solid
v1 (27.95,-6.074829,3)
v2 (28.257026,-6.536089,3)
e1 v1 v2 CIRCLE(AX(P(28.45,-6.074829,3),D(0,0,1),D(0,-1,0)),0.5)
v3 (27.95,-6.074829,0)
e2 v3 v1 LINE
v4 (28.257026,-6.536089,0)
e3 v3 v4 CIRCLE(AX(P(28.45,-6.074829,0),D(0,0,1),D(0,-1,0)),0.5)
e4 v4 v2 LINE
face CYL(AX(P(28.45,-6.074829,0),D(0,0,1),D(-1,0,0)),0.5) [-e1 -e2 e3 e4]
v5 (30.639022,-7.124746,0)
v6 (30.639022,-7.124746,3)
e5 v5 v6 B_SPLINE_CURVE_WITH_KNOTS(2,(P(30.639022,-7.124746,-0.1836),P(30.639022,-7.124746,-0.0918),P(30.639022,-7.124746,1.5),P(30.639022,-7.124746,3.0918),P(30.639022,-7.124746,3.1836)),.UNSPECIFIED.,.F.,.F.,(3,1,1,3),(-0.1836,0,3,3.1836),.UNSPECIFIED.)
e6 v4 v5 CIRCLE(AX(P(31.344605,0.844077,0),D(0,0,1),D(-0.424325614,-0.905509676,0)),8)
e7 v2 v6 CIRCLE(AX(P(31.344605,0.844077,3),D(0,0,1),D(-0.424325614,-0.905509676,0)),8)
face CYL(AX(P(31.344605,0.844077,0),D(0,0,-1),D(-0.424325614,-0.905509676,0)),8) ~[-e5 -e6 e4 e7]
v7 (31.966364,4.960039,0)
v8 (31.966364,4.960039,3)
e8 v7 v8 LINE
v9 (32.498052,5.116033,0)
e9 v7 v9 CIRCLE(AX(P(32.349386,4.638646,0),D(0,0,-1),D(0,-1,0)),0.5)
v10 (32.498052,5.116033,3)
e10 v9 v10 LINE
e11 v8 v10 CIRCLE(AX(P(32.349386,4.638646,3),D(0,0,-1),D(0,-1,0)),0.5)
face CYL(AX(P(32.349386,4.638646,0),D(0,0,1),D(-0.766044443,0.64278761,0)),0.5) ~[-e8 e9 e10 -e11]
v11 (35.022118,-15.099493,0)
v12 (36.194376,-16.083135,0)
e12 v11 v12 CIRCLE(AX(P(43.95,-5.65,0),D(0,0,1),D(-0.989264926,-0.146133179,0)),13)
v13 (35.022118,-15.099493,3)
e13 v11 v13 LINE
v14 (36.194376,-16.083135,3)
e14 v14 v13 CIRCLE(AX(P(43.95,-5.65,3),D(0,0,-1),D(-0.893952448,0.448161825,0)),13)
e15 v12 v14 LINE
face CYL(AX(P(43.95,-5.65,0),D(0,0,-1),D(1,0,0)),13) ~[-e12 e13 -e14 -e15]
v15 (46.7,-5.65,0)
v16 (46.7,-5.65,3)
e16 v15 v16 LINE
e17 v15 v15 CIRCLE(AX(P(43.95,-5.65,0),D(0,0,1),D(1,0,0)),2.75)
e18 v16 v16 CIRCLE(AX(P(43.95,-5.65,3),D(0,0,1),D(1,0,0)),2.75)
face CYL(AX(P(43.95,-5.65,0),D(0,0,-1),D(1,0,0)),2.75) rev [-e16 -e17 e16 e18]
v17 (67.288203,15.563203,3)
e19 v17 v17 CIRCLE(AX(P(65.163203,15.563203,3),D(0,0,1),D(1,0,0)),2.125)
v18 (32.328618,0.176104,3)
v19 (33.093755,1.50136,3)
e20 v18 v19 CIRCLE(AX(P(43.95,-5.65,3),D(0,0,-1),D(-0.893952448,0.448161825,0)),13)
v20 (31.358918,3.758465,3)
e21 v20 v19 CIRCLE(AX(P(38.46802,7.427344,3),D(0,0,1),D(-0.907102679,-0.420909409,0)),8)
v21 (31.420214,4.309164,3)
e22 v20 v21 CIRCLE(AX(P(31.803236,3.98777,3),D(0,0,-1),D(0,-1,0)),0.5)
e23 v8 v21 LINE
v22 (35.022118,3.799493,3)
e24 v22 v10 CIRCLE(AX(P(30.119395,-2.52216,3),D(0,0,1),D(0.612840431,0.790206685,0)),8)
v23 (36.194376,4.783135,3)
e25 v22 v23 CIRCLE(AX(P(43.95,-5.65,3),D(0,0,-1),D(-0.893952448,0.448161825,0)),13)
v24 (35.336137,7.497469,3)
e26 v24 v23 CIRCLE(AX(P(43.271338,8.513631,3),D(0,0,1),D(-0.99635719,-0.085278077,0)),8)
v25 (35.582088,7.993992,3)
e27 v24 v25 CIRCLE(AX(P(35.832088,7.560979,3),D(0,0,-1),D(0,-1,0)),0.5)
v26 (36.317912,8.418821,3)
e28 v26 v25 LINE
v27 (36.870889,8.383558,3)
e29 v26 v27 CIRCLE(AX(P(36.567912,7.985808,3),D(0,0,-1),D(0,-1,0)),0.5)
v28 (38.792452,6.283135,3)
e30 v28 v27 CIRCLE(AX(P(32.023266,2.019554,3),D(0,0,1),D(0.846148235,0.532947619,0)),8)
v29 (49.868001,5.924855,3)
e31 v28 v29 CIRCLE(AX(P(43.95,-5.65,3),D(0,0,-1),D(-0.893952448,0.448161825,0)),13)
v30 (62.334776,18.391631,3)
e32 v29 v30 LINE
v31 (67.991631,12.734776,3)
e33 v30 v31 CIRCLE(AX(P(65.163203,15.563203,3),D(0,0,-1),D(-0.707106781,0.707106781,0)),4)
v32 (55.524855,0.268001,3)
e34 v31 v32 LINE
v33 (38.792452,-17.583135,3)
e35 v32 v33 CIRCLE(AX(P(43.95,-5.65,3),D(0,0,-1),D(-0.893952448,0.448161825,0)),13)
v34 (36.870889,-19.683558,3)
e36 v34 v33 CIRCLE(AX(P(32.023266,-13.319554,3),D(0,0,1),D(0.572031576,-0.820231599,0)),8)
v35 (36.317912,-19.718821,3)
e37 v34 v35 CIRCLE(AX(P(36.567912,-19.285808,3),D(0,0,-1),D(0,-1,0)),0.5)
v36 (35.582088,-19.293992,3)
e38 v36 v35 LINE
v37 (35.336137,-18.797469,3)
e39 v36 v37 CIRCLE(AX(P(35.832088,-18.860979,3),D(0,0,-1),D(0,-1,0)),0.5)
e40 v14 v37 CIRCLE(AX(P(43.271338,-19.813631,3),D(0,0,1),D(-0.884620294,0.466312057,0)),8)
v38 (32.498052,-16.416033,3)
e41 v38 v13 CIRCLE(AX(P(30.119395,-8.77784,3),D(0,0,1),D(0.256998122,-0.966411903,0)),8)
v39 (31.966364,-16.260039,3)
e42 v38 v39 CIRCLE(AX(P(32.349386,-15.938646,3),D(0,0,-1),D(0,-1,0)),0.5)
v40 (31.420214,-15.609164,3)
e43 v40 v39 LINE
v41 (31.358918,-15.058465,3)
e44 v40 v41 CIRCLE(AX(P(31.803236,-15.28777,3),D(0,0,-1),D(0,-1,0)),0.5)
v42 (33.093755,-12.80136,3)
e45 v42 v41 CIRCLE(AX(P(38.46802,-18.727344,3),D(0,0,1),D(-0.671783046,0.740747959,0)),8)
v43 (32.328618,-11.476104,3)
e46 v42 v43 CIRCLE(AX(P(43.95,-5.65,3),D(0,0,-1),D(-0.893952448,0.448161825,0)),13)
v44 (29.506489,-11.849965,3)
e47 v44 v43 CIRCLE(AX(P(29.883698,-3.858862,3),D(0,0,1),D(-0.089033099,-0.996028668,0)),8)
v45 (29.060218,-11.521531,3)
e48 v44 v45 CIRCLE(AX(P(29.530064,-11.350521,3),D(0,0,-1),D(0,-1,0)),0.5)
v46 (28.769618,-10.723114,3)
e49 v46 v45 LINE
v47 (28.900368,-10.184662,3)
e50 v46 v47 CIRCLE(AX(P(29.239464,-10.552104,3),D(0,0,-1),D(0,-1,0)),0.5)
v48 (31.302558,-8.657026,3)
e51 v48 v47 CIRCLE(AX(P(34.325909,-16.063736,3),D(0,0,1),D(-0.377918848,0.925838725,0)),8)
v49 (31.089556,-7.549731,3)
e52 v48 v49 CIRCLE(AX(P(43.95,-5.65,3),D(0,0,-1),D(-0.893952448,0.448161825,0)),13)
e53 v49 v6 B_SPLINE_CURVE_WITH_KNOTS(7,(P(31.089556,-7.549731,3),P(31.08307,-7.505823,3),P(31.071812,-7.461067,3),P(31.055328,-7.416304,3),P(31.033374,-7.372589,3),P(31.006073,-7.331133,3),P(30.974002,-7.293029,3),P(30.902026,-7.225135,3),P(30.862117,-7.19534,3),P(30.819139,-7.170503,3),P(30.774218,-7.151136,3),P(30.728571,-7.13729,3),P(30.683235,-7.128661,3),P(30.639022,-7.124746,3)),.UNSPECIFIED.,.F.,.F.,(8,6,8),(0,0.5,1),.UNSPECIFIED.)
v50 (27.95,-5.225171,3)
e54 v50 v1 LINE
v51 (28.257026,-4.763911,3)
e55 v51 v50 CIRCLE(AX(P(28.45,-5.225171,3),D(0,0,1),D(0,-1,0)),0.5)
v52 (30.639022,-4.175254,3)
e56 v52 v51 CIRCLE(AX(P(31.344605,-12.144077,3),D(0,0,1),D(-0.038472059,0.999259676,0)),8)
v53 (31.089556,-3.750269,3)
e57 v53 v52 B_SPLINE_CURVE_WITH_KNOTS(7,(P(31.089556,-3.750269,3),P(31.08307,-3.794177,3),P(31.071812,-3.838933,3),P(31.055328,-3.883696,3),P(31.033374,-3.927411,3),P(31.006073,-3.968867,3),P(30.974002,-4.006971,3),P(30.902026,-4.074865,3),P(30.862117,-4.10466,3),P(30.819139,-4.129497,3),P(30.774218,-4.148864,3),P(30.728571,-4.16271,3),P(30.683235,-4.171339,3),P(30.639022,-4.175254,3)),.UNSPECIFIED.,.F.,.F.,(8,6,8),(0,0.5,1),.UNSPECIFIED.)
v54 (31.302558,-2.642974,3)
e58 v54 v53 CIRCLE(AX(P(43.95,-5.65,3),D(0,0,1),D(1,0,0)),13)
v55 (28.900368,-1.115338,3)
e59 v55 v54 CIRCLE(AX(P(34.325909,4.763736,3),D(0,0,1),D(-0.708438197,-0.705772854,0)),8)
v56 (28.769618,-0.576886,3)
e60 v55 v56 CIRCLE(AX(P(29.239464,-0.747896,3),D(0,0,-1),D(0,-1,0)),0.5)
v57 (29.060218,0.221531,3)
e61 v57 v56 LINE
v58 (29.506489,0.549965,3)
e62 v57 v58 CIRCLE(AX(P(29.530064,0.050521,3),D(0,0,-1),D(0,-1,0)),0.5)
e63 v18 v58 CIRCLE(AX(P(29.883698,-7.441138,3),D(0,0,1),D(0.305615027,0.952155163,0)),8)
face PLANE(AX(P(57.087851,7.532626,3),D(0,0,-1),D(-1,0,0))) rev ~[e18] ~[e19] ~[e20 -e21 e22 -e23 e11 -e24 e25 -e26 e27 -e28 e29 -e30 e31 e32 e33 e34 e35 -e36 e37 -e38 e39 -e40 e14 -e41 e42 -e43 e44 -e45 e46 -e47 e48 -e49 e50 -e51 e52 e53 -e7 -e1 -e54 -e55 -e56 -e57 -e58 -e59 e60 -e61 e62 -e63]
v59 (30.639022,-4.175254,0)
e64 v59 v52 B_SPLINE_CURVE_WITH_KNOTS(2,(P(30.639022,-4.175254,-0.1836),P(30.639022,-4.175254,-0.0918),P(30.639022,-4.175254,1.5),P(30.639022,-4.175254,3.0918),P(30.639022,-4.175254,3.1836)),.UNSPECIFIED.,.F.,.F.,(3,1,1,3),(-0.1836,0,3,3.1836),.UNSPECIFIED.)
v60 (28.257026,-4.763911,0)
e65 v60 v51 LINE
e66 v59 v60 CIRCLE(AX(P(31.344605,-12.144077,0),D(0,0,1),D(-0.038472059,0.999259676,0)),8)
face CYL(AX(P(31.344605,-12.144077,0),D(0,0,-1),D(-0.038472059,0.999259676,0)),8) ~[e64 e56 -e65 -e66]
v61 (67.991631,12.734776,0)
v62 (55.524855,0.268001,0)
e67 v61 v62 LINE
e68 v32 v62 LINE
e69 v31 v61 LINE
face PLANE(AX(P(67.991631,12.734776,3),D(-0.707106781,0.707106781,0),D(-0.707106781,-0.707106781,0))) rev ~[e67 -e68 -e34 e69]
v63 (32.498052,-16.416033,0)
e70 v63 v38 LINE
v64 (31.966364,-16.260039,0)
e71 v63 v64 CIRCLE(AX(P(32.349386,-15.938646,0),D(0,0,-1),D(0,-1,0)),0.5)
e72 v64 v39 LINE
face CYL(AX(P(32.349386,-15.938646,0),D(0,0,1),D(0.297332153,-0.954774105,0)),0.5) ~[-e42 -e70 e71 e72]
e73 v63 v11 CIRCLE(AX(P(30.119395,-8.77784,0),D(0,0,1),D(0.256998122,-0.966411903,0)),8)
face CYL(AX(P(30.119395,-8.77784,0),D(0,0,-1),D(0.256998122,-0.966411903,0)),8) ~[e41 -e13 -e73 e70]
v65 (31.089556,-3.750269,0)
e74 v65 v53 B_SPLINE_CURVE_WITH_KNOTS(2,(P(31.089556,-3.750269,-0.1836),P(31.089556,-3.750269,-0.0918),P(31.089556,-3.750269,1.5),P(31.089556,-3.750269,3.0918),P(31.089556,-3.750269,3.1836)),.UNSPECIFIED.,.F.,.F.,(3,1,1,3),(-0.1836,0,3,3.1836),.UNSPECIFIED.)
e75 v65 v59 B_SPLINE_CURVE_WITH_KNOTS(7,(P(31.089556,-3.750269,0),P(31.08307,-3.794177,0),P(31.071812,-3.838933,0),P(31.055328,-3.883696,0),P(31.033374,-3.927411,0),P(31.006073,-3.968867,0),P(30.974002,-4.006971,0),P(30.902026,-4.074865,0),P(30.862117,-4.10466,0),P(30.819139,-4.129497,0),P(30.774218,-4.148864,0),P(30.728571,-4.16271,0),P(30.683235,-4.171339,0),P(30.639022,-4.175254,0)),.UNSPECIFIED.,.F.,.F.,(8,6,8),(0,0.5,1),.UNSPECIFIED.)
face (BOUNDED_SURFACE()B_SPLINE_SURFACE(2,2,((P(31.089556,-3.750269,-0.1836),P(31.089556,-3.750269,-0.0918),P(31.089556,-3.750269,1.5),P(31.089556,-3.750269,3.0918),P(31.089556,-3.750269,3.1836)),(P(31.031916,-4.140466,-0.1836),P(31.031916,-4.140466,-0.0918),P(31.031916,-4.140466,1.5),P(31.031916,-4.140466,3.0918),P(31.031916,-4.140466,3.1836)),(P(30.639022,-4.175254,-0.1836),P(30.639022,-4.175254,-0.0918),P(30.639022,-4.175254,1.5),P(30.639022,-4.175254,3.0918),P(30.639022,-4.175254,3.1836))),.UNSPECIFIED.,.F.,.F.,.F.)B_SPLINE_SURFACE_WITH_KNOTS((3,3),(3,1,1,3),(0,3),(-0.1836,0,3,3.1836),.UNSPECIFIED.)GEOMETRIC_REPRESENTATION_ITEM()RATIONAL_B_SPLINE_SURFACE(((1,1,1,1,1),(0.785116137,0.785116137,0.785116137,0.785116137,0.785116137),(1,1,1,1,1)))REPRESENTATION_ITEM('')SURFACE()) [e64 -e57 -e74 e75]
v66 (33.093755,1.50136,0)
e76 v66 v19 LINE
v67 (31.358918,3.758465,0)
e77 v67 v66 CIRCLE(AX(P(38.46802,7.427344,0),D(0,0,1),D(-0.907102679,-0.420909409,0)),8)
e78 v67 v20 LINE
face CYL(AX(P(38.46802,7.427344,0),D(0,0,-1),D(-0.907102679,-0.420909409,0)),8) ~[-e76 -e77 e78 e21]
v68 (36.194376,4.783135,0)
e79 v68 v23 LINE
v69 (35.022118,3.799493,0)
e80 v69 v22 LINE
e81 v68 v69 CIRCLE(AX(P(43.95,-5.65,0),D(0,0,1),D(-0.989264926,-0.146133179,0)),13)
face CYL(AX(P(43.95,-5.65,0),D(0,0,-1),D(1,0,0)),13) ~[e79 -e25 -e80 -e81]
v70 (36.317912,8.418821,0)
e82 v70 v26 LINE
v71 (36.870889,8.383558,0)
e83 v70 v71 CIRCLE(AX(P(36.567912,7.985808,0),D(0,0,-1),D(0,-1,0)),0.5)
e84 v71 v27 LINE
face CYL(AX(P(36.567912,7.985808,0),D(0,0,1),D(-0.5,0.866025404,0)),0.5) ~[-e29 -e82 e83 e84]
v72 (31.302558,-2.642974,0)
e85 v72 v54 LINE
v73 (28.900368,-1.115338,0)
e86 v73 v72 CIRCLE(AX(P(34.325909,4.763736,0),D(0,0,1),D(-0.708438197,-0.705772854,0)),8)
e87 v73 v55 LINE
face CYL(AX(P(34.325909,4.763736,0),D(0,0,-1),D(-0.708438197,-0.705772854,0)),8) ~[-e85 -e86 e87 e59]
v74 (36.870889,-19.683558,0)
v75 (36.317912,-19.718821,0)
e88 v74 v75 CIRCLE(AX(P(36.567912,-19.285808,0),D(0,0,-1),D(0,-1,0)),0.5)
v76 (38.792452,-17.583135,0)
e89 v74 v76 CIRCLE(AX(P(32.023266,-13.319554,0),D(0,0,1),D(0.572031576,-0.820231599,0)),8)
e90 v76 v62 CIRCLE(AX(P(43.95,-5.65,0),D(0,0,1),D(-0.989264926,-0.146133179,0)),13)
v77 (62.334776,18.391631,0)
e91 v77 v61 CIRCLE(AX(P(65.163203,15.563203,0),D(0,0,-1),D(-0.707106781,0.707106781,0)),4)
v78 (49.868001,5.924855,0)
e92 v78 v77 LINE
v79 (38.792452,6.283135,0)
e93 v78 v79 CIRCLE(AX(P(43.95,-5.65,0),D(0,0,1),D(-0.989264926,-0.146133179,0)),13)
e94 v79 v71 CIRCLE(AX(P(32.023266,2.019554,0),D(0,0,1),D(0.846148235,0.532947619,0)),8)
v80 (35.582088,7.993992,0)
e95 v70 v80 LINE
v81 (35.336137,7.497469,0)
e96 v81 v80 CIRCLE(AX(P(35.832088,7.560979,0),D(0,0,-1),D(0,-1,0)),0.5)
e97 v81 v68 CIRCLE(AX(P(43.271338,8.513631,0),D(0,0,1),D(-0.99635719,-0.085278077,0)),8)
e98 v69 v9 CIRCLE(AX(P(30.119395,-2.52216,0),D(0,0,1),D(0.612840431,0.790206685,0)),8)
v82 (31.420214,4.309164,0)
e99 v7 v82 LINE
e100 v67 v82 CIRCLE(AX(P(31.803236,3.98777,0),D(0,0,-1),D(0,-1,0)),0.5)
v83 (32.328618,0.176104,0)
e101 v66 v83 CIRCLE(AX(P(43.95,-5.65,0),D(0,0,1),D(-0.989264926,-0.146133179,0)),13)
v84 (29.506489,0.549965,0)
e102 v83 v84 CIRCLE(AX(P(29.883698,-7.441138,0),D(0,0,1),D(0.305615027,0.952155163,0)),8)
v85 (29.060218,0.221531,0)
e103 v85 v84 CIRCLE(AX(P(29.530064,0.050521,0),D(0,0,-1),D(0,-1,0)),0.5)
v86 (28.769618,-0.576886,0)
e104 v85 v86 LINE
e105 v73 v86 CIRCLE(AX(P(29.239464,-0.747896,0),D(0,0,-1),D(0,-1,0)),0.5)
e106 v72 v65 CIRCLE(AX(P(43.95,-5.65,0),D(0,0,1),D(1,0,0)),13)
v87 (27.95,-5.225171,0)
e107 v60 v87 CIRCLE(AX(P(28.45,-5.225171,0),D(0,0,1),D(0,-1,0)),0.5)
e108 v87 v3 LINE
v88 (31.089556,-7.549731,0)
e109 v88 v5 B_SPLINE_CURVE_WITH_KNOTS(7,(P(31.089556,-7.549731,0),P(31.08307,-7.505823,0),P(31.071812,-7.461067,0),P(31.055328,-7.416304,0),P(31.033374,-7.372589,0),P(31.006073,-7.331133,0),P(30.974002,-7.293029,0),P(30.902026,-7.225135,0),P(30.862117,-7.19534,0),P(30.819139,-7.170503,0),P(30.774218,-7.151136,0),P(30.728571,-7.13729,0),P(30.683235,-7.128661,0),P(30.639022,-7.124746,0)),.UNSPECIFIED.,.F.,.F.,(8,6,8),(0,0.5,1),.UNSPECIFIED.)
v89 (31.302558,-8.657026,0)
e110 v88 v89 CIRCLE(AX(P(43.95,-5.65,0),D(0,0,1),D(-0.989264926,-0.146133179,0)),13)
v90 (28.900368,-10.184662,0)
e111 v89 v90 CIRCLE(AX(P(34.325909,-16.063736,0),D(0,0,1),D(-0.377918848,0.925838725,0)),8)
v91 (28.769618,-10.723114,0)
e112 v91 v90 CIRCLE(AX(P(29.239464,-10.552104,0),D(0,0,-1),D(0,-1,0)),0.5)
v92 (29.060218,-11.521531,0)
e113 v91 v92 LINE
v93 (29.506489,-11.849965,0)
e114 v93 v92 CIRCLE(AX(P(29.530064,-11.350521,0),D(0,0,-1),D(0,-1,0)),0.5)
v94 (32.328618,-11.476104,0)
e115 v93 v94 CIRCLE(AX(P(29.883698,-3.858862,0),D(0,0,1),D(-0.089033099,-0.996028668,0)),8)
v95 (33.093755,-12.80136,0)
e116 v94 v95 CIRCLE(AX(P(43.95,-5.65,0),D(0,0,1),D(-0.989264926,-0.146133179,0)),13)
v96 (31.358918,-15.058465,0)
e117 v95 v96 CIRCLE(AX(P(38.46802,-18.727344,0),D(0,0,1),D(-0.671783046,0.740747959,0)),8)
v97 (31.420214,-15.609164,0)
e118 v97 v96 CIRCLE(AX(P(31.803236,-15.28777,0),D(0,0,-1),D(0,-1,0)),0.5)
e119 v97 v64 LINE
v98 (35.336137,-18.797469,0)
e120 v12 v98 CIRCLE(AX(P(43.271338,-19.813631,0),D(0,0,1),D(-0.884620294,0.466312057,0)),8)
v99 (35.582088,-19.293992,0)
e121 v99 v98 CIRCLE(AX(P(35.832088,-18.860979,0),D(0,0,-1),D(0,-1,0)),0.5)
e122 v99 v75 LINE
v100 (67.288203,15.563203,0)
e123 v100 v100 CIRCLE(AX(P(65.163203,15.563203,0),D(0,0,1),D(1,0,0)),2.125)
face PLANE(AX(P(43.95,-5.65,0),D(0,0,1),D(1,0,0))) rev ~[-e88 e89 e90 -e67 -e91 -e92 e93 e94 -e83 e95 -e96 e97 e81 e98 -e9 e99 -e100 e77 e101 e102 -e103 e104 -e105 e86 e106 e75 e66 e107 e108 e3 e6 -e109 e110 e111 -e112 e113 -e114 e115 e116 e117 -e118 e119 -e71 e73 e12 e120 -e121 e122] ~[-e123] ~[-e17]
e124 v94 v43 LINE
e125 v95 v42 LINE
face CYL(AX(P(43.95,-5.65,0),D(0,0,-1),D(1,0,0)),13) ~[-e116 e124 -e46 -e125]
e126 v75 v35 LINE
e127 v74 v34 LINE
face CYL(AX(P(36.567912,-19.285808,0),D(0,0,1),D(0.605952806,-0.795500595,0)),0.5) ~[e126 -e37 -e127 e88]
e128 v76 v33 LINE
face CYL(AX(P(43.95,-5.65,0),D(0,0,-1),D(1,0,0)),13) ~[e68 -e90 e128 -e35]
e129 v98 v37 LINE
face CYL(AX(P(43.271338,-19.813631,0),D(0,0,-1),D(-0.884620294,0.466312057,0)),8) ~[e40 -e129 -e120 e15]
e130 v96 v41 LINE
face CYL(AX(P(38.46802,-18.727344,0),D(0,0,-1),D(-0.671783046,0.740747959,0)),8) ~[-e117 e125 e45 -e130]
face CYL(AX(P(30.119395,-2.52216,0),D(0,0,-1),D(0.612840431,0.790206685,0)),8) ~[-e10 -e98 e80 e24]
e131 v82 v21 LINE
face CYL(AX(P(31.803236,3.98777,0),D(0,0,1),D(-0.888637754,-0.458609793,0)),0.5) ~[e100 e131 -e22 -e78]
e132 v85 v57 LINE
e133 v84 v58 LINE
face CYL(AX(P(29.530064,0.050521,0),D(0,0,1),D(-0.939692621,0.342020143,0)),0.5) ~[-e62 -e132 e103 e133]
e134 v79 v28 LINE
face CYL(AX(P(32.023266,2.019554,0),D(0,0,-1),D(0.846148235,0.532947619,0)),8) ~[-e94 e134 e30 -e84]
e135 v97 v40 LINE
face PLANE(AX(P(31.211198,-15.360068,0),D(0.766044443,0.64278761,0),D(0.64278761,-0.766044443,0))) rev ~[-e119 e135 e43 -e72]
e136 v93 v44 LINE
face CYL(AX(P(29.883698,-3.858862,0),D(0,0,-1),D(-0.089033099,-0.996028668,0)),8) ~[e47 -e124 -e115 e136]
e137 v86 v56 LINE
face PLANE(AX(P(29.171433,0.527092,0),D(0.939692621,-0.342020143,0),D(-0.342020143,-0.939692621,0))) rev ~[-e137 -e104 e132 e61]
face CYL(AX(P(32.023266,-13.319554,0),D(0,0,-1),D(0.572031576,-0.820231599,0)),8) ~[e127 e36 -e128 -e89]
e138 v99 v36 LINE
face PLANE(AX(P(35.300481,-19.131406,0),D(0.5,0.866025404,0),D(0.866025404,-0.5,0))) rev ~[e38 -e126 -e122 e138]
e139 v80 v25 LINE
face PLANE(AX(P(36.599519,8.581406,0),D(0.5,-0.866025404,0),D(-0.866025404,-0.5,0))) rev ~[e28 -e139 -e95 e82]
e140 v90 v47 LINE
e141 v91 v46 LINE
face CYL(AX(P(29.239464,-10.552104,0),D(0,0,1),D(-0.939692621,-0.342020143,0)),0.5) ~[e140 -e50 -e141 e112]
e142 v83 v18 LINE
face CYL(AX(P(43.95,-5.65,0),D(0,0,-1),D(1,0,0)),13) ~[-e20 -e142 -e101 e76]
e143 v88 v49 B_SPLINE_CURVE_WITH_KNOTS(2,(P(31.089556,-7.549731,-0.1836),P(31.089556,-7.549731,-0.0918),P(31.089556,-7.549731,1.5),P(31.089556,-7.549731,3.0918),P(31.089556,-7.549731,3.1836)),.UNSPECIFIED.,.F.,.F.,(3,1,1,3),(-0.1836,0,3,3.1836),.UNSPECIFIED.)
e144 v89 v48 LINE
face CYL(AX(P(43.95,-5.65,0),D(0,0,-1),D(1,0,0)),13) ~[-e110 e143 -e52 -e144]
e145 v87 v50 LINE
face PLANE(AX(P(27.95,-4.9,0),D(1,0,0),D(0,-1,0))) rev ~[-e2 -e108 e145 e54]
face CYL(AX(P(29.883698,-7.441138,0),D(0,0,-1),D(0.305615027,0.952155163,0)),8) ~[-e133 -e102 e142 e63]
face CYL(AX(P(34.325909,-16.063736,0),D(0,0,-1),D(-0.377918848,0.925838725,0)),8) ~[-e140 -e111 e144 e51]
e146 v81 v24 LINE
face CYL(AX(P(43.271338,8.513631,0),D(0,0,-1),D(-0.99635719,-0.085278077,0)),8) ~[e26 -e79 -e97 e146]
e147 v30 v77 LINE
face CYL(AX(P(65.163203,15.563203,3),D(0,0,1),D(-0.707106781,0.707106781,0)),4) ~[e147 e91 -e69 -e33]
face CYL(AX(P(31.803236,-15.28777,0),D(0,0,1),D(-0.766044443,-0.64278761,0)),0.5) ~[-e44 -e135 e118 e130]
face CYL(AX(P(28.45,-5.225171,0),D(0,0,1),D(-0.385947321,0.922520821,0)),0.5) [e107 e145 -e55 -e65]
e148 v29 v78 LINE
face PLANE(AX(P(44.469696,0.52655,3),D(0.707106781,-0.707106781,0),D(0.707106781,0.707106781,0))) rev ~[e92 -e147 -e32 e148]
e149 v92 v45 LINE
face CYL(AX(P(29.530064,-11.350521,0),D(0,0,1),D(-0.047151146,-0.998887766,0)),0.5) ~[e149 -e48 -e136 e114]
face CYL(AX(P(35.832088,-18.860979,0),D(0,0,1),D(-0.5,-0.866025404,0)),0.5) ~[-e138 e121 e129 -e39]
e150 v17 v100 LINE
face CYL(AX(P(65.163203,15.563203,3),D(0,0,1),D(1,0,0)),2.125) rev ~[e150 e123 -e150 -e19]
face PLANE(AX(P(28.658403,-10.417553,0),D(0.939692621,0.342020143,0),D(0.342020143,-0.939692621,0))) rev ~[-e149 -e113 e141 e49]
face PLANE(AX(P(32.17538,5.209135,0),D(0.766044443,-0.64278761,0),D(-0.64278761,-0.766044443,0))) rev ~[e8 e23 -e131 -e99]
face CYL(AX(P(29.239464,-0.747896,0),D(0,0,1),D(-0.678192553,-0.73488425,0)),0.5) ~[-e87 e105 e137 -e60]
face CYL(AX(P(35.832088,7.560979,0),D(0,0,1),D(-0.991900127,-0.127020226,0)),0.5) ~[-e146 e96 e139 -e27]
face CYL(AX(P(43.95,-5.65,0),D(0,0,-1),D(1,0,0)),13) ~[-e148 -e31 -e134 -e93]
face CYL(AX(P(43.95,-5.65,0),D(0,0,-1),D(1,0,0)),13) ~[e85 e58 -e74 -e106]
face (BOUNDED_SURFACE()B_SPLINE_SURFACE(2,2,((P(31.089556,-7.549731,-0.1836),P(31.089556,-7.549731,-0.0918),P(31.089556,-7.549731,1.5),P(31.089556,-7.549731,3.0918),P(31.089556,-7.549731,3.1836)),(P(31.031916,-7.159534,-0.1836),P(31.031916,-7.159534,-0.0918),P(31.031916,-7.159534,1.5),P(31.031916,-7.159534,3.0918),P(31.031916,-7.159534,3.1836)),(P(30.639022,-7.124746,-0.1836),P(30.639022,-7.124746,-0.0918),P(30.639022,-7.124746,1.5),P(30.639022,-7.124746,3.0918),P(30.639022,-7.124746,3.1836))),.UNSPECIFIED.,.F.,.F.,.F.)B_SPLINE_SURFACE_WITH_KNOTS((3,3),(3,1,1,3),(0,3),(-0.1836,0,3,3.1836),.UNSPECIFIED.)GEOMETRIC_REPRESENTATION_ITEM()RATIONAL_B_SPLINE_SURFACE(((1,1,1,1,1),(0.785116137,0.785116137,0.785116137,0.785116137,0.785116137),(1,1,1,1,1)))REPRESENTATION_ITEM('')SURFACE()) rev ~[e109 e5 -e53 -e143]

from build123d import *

# Parameters (mm, degrees)
SKETCH1_R           = 13
SKETCH1_R_2         = 2.75
BOSS_EXTRUDE1_DEPTH = 3
BOSS_EXTRUDE2_START = -3
BOSS_EXTRUDE2_DEPTH = 3
FILLET1_R           = 0.5
CIRPATTERN1_COUNT   = 4
CIRPATTERN1_ANGLE   = 60
CIRPATTERN2_COUNT   = 4
CIRPATTERN2_ANGLE   = 60
SKETCH3_R           = 2.125
BOSS_EXTRUDE3_DEPTH = 3
FILLET2_R           = 0.5


with BuildPart() as part:
    # Sketch1 → Boss-Extrude1 (new body)
    with BuildSketch(Plane.XY):
        with Locations((43.95, -5.65)):
            Circle(SKETCH1_R)
        with Locations((43.95, -5.65)):
            Circle(SKETCH1_R_2, mode=Mode.SUBTRACT)
    extrude(amount=BOSS_EXTRUDE1_DEPTH)

    # Sketch2 → Boss-Extrude2 (add)
    with BuildSketch(Plane.XY.offset(3).offset(BOSS_EXTRUDE2_START)):
        with BuildLine():
            Line((27.95, -4.9), (27.95, -6.4))
            ThreePointArc((27.95, -6.4), (29.455813765, -6.929754851), (31.03682843, -7.15))
            ThreePointArc((31.03682843, -7.15), (30.95, -5.65), (31.03682843, -4.15))
            ThreePointArc((31.03682843, -4.15), (29.455813765, -4.370245149), (27.95, -4.9))
        make_face()
    boss_extrude2 = extrude(amount=BOSS_EXTRUDE2_DEPTH)

    # Fillet1
    fillet1_edges = [part.edges().sort_by_distance(p)[0] for p in [
        (31.03682843, -7.15, 1.5),
        (27.95, -6.4, 1.5),
        (27.95, -4.9, 1.5),
        (31.03682843, -4.15, 1.5),
    ]]
    fillet(fillet1_edges, radius=FILLET1_R)

    # CirPattern1: Boss-Extrude2 ×4 about axis
    cirpattern1_axis = Axis((43.95, -5.65, 0), (0, 0, -1))
    for i in range(1, CIRPATTERN1_COUNT):
        add(boss_extrude2.rotate(cirpattern1_axis, i * CIRPATTERN1_ANGLE / (CIRPATTERN1_COUNT - 1)))

    # CirPattern2: Boss-Extrude2 ×4 about axis
    cirpattern2_axis = Axis((43.95, -5.65, 0), (0, 0, 1))
    for i in range(1, CIRPATTERN2_COUNT):
        add(boss_extrude2.rotate(cirpattern2_axis, i * CIRPATTERN2_ANGLE / (CIRPATTERN2_COUNT - 1)))

    # Sketch3 → Boss-Extrude3 (add)
    with BuildSketch(Plane.XY.offset(3)):
        with BuildLine():
            Line((44.46969592, 0.52655017), (62.334776311, 18.39163056))
            ThreePointArc((62.334776311, 18.39163056), (67.99163056, 18.39163056), (67.99163056, 12.734776311))
            Line((67.99163056, 12.734776311), (50.518308298, -4.738545951))
            Line((50.518308298, -4.738545951), (44.46969592, 0.52655017))
        make_face()
        with Locations((65.163203436, 15.563203436)):
            Circle(SKETCH3_R, mode=Mode.SUBTRACT)
    extrude(amount=-BOSS_EXTRUDE3_DEPTH)

    # Fillet2
    fillet2_edges = [part.edges().sort_by_distance(p)[0] for p in [
        (36.599519053, -19.881406461, 1.5),
        (35.300480947, -19.131406461, 1.5),
        (28.65840296, -0.882447172, 1.5),
        (29.171433175, 0.527091759, 1.5),
        (31.211198203, 4.060068423, 1.5),
        (32.175379617, 5.209135087, 1.5),
        (35.300480947, 7.831406461, 1.5),
        (36.599519053, 8.581406461, 1.5),
        (29.171433175, -11.827091759, 1.5),
        (28.65840296, -10.417552828, 1.5),
        (32.175379617, -16.509135087, 1.5),
        (31.211198203, -15.360068423, 1.5),
    ]]
    fillet(fillet2_edges, radius=FILLET2_R)


solid = part.part
